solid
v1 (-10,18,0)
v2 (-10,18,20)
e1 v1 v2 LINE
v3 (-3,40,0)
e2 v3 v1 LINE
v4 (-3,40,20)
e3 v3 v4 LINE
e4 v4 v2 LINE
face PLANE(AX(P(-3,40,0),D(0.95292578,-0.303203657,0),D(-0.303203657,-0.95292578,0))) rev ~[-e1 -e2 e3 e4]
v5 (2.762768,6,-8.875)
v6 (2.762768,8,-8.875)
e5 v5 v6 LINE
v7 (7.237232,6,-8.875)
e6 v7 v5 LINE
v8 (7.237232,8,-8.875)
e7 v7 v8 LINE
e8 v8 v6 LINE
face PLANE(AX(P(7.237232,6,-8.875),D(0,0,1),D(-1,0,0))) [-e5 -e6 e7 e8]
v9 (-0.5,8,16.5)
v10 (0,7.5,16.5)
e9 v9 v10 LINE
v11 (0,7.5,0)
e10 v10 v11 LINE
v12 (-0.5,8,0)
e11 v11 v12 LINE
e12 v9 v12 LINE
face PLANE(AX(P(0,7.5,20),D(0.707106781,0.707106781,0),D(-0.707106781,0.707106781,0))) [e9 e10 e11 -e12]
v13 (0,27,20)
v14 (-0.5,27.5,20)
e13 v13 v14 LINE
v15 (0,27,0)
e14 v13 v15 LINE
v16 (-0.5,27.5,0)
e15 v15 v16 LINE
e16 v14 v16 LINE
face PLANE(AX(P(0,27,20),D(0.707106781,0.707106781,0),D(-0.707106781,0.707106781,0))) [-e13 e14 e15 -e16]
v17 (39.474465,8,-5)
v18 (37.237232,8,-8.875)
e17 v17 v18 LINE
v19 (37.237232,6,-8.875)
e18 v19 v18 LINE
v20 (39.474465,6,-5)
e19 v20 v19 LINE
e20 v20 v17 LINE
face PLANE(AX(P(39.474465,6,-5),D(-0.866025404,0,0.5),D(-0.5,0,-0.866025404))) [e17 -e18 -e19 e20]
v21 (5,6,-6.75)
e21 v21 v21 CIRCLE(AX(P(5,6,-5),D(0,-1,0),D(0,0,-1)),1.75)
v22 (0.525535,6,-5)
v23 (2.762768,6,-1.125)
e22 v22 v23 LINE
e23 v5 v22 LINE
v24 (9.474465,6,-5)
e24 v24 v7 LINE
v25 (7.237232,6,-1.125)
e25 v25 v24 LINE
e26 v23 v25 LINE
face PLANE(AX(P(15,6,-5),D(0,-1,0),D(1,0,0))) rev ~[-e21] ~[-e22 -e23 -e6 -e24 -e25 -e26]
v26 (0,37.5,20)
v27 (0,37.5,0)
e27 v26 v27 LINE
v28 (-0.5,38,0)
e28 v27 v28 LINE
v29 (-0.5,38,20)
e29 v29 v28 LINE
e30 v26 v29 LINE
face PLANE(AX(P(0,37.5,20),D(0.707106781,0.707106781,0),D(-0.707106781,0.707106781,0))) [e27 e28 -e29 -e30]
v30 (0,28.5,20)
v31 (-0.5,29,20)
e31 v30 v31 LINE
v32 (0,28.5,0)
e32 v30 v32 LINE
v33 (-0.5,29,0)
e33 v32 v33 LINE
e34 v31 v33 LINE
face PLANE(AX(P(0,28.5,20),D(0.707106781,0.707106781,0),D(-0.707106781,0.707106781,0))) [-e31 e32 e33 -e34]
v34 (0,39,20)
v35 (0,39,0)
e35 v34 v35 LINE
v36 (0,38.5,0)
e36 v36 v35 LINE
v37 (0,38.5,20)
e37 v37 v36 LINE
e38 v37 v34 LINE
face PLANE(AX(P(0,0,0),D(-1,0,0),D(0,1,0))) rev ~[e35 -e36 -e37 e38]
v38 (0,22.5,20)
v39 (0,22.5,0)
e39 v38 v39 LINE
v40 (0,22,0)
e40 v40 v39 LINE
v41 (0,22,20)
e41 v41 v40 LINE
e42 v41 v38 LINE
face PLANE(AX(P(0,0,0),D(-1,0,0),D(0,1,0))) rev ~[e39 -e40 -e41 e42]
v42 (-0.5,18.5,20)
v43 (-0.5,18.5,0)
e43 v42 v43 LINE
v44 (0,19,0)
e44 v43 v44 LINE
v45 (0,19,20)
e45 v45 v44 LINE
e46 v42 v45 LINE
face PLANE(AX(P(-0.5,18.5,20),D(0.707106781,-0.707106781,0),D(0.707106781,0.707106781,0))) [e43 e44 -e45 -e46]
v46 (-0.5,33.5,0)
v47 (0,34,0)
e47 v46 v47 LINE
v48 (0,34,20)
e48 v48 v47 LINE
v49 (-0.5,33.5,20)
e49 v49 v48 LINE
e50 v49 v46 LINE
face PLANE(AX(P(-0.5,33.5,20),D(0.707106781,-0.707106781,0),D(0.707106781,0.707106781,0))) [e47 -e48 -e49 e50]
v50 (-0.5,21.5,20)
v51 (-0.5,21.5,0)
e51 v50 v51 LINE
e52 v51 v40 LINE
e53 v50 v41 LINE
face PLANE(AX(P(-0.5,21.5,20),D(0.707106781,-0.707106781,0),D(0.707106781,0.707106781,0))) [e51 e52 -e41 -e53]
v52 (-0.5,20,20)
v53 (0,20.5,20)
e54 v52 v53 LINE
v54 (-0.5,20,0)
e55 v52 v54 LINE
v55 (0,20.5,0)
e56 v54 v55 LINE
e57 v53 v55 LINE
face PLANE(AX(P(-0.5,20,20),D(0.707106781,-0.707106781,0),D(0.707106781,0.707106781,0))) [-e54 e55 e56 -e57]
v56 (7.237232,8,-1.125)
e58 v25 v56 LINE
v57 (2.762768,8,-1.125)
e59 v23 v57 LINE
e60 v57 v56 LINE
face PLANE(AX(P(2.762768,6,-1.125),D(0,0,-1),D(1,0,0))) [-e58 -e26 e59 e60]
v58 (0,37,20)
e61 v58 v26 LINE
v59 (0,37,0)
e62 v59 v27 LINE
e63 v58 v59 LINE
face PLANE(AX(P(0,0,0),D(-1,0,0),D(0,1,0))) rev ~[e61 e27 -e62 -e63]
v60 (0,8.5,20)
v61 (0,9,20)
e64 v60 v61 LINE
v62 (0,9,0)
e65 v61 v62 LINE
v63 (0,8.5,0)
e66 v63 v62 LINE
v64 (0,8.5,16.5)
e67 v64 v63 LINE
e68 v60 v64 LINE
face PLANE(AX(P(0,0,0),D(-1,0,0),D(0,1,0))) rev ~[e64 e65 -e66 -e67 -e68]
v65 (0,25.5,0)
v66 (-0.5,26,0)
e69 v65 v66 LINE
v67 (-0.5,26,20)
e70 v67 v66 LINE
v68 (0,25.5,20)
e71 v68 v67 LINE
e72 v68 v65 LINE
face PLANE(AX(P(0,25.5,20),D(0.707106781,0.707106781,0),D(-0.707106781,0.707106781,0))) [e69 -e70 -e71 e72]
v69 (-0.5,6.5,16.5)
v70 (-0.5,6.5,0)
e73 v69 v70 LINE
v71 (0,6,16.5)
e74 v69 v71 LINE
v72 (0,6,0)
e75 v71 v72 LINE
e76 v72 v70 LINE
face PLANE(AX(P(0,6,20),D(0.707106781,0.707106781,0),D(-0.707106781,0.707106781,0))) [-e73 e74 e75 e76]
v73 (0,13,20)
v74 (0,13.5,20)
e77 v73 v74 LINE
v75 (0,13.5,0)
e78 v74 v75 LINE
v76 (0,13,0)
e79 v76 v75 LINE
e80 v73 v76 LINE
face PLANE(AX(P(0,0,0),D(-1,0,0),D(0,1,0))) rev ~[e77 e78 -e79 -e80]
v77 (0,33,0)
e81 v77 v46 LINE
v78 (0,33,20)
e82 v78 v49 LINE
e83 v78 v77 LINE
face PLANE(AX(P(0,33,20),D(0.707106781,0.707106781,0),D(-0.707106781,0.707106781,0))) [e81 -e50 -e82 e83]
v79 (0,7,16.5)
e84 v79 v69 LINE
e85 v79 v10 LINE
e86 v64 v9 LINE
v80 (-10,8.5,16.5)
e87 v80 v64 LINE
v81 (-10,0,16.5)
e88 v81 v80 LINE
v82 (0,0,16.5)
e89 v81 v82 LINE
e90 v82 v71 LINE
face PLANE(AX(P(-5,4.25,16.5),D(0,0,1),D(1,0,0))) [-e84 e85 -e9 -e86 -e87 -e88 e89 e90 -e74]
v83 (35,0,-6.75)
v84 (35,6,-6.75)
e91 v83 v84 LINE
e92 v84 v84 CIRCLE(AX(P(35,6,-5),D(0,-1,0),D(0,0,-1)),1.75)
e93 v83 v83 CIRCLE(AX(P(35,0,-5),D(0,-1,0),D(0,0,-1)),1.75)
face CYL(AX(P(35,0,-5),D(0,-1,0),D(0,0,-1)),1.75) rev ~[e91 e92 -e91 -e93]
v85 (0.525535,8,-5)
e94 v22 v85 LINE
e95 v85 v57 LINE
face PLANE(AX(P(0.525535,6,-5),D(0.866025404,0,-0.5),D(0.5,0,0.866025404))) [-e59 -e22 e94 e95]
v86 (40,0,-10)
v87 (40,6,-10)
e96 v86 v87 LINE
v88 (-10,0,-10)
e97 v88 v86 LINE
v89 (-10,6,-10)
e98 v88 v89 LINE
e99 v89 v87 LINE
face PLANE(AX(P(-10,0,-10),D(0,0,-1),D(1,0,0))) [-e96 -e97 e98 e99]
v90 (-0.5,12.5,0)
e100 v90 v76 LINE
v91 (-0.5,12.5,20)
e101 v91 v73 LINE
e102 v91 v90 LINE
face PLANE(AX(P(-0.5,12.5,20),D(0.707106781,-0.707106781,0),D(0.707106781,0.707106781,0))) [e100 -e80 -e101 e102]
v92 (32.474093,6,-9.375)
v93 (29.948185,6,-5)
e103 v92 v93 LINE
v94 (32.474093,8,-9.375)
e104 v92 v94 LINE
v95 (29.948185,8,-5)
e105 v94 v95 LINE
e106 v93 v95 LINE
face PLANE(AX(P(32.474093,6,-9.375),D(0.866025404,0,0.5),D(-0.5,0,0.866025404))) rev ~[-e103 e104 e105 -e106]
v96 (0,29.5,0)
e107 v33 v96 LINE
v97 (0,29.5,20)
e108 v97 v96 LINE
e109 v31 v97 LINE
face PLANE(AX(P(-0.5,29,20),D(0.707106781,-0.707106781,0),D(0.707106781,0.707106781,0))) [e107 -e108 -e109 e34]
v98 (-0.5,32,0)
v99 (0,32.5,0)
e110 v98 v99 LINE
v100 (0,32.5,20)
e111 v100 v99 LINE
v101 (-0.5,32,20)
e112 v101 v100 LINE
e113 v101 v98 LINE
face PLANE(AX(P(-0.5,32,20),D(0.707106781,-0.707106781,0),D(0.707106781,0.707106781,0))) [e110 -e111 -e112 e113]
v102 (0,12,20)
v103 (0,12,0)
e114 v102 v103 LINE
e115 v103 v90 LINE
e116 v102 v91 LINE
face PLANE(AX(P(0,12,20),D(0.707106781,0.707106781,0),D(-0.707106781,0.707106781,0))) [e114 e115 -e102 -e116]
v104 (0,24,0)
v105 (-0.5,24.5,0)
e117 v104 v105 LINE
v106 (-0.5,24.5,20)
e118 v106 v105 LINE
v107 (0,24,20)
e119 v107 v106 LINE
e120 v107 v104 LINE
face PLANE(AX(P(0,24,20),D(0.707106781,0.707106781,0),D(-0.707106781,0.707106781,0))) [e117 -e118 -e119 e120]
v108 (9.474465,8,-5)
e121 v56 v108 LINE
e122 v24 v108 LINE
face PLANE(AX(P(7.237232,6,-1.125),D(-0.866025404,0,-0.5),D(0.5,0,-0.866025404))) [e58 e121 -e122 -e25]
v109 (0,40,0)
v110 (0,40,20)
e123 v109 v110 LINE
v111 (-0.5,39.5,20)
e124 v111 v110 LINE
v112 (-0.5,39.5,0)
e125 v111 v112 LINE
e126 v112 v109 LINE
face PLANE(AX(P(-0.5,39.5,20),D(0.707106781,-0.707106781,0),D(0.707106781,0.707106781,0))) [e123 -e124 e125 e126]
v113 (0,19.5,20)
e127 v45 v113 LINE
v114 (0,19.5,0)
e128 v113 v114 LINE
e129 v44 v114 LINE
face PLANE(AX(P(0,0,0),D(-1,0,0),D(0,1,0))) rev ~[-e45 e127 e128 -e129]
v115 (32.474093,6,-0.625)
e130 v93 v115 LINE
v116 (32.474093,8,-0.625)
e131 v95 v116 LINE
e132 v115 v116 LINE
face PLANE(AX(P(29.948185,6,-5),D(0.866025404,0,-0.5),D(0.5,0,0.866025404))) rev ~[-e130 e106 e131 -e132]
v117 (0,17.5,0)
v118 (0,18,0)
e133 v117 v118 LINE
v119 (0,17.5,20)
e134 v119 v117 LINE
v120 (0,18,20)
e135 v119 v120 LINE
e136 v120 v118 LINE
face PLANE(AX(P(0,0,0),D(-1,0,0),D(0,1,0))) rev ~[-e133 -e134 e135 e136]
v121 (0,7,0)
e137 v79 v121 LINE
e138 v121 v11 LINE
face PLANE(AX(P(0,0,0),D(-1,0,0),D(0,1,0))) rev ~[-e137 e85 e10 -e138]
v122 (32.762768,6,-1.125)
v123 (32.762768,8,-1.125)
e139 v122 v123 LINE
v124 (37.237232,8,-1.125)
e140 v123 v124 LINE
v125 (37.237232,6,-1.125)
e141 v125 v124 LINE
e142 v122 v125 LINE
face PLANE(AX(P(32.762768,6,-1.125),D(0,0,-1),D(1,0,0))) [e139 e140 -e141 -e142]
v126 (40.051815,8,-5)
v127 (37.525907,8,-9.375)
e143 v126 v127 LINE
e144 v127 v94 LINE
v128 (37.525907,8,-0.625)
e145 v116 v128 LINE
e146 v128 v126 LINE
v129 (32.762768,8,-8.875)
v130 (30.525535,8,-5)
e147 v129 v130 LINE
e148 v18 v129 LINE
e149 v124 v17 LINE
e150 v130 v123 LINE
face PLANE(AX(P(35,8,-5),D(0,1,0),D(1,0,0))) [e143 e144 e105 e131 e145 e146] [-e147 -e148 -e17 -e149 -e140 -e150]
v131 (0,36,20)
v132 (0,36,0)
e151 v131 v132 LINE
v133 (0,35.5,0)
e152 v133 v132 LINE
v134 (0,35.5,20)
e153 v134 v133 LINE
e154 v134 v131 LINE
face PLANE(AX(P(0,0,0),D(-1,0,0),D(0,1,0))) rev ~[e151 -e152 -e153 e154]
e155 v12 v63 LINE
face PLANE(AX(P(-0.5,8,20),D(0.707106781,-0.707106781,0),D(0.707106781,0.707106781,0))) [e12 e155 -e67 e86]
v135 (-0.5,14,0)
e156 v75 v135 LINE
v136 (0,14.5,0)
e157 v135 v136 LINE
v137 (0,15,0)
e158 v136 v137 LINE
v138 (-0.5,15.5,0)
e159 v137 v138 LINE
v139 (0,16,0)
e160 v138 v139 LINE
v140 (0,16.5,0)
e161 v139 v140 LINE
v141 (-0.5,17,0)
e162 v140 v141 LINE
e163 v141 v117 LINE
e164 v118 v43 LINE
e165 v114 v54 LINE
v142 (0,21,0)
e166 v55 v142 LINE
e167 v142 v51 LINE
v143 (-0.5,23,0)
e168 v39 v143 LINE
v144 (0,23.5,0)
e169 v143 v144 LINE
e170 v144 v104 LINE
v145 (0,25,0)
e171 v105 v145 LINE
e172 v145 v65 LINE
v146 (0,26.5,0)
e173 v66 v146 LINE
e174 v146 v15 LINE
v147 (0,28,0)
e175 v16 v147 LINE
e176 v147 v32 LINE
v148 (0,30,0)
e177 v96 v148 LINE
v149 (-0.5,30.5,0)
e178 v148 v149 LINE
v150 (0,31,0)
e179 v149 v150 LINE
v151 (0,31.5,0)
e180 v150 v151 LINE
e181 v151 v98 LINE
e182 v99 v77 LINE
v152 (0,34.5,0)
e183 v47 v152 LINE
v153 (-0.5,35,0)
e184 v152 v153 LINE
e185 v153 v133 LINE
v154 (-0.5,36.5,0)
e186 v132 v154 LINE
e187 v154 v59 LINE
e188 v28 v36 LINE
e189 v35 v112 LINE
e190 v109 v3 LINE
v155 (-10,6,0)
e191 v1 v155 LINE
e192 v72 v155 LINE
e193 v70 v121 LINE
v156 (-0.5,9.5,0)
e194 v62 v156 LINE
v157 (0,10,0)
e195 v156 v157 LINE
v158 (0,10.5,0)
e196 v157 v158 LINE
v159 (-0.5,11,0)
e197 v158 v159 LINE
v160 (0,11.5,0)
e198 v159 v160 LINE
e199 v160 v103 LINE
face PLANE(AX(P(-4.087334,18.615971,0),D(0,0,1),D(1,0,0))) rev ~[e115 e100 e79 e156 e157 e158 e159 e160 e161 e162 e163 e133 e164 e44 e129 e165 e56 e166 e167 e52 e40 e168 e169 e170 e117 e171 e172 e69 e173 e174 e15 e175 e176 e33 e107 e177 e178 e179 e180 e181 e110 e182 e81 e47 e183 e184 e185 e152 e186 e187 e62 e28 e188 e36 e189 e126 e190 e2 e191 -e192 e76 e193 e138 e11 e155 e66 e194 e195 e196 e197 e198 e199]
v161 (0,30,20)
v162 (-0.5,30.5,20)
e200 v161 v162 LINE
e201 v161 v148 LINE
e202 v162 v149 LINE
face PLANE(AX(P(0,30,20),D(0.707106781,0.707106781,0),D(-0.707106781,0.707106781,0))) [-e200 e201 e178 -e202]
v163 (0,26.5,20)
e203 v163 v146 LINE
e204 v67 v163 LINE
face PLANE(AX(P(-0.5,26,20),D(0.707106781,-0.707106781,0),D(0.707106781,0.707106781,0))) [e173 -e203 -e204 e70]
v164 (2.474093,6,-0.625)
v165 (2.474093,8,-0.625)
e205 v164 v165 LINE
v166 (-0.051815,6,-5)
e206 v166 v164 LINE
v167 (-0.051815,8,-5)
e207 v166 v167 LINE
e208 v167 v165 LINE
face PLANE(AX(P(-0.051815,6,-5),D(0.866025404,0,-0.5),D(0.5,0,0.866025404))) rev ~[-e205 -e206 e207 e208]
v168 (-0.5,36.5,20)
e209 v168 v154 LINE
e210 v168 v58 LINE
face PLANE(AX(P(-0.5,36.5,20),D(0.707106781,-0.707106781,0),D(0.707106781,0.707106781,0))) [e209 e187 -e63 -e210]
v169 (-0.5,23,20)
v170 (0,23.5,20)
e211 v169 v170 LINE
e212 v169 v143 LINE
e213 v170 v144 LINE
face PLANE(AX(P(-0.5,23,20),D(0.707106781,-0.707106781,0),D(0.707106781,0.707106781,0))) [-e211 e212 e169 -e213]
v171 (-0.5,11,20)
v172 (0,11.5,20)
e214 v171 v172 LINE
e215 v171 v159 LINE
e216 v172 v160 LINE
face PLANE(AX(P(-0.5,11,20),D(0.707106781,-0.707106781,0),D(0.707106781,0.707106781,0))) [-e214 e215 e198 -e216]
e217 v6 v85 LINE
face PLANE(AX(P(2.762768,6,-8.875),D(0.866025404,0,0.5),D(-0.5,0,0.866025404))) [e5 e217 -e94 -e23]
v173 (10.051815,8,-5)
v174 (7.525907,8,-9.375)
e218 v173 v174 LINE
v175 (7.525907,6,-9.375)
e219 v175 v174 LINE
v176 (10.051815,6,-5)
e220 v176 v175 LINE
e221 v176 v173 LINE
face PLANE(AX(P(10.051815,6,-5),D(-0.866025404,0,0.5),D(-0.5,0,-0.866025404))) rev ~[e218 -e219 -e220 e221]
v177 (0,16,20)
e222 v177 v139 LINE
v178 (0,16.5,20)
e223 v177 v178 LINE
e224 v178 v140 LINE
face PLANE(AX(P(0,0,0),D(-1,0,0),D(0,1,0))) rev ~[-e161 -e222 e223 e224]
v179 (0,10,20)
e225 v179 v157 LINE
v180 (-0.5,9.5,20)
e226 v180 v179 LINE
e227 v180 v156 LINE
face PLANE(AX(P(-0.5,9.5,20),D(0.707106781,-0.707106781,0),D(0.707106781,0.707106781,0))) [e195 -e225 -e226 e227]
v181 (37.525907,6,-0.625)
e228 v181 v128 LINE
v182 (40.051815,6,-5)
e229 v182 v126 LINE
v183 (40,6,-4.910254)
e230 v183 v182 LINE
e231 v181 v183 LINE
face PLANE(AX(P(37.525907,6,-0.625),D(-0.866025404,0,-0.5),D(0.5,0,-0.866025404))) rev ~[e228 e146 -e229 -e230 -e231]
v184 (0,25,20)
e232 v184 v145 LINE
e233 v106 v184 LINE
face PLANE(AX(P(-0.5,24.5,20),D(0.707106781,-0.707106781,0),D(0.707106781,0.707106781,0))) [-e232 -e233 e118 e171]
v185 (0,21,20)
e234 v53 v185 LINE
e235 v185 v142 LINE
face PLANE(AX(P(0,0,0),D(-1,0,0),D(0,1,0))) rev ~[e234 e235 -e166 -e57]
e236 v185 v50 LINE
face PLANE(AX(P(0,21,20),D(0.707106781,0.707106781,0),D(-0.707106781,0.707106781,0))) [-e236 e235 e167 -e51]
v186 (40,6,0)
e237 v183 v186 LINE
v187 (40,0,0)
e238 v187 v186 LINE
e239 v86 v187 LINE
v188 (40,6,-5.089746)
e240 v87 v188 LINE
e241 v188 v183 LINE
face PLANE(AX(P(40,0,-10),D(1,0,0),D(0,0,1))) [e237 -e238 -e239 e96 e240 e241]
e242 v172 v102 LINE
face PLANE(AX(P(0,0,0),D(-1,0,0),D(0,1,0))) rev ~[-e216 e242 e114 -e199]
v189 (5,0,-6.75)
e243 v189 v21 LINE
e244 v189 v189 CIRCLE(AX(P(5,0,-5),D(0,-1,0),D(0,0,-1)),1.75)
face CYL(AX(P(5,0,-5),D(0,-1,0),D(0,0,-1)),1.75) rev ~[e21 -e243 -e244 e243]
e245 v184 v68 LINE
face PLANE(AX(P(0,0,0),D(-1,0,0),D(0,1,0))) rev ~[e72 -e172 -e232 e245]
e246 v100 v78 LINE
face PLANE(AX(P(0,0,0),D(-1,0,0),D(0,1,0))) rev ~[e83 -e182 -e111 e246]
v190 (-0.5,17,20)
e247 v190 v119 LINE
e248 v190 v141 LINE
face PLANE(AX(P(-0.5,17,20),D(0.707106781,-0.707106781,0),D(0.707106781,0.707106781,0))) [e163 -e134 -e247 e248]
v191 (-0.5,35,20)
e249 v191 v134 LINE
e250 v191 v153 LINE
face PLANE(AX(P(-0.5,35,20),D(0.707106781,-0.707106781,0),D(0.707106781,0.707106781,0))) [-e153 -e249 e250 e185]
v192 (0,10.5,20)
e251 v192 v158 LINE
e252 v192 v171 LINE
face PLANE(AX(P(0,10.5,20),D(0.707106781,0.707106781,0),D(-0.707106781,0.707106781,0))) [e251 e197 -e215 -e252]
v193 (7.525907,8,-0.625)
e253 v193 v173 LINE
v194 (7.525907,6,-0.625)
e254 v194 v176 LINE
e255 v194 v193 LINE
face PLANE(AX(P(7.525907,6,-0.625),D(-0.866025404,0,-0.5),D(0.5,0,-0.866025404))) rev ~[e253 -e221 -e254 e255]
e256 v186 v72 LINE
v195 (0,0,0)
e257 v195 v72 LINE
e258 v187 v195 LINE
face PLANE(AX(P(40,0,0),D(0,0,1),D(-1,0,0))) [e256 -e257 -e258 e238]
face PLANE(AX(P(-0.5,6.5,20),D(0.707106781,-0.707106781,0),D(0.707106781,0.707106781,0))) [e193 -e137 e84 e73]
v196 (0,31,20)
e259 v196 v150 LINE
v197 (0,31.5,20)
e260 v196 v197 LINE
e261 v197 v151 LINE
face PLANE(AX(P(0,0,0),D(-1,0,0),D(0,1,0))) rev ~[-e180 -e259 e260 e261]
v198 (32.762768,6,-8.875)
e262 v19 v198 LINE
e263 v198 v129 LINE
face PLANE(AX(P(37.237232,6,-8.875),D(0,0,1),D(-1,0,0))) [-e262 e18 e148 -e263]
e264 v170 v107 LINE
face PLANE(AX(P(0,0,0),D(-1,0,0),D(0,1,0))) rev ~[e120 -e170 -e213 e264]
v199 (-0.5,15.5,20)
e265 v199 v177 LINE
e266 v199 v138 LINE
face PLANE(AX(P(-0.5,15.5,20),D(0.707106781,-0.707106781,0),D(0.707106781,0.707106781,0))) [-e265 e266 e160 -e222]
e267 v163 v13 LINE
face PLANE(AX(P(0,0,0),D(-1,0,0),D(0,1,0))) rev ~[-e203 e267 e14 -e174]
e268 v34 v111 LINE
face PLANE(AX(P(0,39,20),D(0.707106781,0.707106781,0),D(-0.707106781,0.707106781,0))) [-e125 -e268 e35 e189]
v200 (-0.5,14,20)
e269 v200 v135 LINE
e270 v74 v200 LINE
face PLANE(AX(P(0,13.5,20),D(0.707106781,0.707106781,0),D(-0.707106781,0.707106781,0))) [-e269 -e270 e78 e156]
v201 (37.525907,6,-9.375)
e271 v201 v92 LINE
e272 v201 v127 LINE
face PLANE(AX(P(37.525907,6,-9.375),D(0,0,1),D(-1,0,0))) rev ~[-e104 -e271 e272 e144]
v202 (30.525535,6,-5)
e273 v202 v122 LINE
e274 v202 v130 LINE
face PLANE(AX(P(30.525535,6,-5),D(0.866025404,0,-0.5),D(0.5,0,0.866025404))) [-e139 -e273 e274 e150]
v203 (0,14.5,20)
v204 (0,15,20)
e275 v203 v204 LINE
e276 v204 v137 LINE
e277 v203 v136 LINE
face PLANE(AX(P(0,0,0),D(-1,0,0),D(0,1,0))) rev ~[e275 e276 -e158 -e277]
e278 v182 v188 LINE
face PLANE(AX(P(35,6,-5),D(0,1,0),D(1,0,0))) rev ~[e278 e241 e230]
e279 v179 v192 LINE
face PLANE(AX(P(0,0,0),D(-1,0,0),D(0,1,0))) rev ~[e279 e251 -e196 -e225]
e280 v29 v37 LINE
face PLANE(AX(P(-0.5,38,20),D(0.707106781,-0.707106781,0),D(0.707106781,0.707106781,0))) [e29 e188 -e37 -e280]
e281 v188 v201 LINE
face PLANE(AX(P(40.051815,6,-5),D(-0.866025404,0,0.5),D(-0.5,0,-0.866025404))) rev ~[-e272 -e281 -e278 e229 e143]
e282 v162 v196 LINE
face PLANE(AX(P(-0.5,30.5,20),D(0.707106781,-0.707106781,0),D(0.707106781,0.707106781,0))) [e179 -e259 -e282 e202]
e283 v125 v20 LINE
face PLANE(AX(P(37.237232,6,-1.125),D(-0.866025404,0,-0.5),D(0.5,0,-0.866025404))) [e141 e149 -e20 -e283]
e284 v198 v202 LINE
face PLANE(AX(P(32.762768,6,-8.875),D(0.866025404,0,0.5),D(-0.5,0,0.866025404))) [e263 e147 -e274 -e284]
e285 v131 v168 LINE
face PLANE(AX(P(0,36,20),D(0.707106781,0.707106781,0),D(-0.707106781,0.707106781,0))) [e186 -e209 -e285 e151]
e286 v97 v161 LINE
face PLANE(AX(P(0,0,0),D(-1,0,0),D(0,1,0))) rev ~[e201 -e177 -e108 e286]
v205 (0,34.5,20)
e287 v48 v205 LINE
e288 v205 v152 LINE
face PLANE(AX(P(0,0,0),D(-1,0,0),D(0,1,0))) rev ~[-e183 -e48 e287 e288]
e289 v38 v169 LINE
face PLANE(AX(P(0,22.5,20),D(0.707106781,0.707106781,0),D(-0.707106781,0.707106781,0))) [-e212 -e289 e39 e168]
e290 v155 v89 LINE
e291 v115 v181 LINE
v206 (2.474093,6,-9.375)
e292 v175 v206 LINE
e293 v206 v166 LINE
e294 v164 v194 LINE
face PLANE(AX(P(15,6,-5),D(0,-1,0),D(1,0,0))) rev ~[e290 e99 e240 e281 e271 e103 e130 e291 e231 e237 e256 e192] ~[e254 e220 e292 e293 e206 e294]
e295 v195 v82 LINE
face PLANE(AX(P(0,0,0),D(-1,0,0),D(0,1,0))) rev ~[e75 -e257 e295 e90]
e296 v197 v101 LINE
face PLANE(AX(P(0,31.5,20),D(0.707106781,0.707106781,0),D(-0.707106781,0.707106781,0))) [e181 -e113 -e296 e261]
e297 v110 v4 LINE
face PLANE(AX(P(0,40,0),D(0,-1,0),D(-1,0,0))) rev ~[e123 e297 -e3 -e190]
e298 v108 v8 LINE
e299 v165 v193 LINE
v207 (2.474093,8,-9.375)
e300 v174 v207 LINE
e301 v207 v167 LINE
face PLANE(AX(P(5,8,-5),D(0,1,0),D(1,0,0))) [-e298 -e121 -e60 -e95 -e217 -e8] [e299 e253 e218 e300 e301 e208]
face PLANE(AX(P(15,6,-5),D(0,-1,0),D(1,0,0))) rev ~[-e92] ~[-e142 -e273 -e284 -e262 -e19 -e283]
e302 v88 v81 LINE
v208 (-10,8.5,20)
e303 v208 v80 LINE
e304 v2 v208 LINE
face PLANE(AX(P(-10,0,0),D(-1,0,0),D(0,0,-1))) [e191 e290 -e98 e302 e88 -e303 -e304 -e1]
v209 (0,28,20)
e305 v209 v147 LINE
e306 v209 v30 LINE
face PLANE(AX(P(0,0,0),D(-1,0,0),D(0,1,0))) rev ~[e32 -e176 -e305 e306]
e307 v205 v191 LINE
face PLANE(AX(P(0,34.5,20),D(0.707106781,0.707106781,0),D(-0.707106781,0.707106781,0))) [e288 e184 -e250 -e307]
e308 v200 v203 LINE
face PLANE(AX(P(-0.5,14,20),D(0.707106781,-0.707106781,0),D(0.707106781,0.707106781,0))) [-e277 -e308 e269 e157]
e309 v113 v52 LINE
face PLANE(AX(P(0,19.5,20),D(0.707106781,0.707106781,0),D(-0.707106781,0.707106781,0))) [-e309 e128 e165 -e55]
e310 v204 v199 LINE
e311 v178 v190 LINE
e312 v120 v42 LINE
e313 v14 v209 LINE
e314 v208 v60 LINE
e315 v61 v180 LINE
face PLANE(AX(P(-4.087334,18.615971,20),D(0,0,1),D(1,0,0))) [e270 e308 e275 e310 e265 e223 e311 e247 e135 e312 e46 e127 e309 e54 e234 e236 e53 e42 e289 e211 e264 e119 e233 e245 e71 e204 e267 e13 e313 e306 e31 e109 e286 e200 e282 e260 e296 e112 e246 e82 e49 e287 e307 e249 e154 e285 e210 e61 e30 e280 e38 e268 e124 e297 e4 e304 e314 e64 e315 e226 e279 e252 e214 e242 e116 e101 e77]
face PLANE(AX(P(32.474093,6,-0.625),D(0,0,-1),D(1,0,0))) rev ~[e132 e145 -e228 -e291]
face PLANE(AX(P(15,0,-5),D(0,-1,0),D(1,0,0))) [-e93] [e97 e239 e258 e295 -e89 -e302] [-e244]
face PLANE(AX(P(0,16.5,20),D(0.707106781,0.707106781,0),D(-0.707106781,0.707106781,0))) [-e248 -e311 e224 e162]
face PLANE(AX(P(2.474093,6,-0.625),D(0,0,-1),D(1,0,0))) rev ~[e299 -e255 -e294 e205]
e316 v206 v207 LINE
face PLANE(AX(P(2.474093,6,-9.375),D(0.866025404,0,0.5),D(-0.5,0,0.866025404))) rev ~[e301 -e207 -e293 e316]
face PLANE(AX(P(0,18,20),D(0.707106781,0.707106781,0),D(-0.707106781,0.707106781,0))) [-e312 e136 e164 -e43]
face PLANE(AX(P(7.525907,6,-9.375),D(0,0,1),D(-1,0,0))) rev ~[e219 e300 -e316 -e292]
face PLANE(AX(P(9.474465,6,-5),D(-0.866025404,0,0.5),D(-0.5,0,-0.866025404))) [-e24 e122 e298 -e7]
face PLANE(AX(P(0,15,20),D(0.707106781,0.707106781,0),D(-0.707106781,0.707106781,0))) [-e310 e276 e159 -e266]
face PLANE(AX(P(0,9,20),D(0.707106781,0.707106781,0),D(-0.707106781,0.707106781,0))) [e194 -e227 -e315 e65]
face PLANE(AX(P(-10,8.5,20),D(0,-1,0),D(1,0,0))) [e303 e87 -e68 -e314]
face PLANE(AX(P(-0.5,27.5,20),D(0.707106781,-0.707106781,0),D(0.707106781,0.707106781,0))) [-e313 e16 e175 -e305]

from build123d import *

# Parameters (mm, degrees)
BOSS_EXTRUDE1_DEPTH = 20
SKETCH2_R           = 1.75
BOSS_EXTRUDE2_DEPTH = 6
CUT_EXTRUDE1_DEPTH  = 20
BOSS_EXTRUDE3_DEPTH = 2
SKETCH5_W           = 10
SKETCH5_H           = 8.5
CUT_EXTRUDE2_DEPTH  = 3.5


with BuildPart() as part:
    # Sketch1 → Boss-Extrude1 (new body)
    with BuildSketch(Plane.XY):
        Polygon((0, 0), (0, 40), (-3, 40), (-10, 18), (-10, 0), align=None)
    extrude(amount=BOSS_EXTRUDE1_DEPTH)

    # Sketch2 → Boss-Extrude2 (add)
    with BuildSketch(Plane.XZ):
        Polygon((-10, 0), (-10, -10), (40, -10), (40, 0), (0, 0), align=None)
        with Locations(Location((35, -5, 0), (0, 0, 270))):
            Circle(SKETCH2_R, mode=Mode.SUBTRACT)
        with Locations(Location((5, -5, 0), (0, 0, 270))):
            Circle(SKETCH2_R, mode=Mode.SUBTRACT)
    extrude(amount=-BOSS_EXTRUDE2_DEPTH)

    # Sketch3 → Cut-Extrude1 (cut)
    with BuildSketch(Plane.XY.offset(20)):
        Polygon((0, 6), (-0.5, 6.5), (0, 7), align=None)
        Polygon((0, 7.5), (-0.5, 8), (0, 8.5), align=None)
        Polygon((0, 9), (-0.5, 9.5), (0, 10), align=None)
        Polygon((0, 10.5), (-0.5, 11), (0, 11.5), align=None)
        Polygon((0, 12), (-0.5, 12.5), (0, 13), align=None)
        Polygon((0, 13.5), (-0.5, 14), (0, 14.5), align=None)
        Polygon((0, 15), (-0.5, 15.5), (0, 16), align=None)
        Polygon((0, 16.5), (-0.5, 17), (0, 17.5), align=None)
        Polygon((0, 18), (-0.5, 18.5), (0, 19), align=None)
        Polygon((0, 19.5), (-0.5, 20), (0, 20.5), align=None)
        Polygon((0, 21), (-0.5, 21.5), (0, 22), align=None)
        Polygon((0, 22.5), (-0.5, 23), (0, 23.5), align=None)
        Polygon((0, 24), (-0.5, 24.5), (0, 25), align=None)
        Polygon((0, 25.5), (-0.5, 26), (0, 26.5), align=None)
        Polygon((0, 27), (-0.5, 27.5), (0, 28), align=None)
        Polygon((0, 28.5), (-0.5, 29), (0, 29.5), align=None)
        Polygon((0, 30), (-0.5, 30.5), (0, 31), align=None)
        Polygon((0, 31.5), (-0.5, 32), (0, 32.5), align=None)
        Polygon((0, 33), (-0.5, 33.5), (0, 34), align=None)
        Polygon((0, 34.5), (-0.5, 35), (0, 35.5), align=None)
        Polygon((0, 36), (-0.5, 36.5), (0, 37), align=None)
        Polygon((0, 37.5), (-0.5, 38), (0, 38.5), align=None)
        Polygon((0, 39), (-0.5, 39.5), (0, 40), align=None)
        Polygon((0, 40.5), (-0.5, 41), (0, 41.5), align=None)
    extrude(amount=-CUT_EXTRUDE1_DEPTH, mode=Mode.SUBTRACT)

    # Sketch4 → Boss-Extrude3 (add)
    # profile 1 of 2: a face of its own
    with BuildSketch(Plane(origin=(0, 6, 0), x_dir=(1, 0, 0), z_dir=(0, 1, 0))):
        Polygon((10.051814855, 5), (7.525907428, 9.375), (2.474092572, 9.375), (-0.051814855, 5), (2.474092572, 0.625), (7.525907428, 0.625), align=None)
        Polygon((9.474464586, 5), (7.237232293, 8.875), (2.762767707, 8.875), (0.525535414, 5), (2.762767707, 1.125), (7.237232293, 1.125), align=None, mode=Mode.SUBTRACT)
    # profile 2 of 2: a face of its own
    with BuildSketch(Plane(origin=(0, 6, 0), x_dir=(1, 0, 0), z_dir=(0, 1, 0))):
        Polygon((40.051814855, 5), (37.525907428, 9.375), (32.474092572, 9.375), (29.948185145, 5), (32.474092572, 0.625), (37.525907428, 0.625), align=None)
        Polygon((39.474464586, 5), (37.237232293, 8.875), (32.762767707, 8.875), (30.525535414, 5), (32.762767707, 1.125), (37.237232293, 1.125), align=None, mode=Mode.SUBTRACT)
    extrude(amount=BOSS_EXTRUDE3_DEPTH)

    # Sketch5 → Cut-Extrude2 (cut)
    with BuildSketch(Plane.XY.offset(20)):
        with Locations((-5, 4.25)):
            Rectangle(SKETCH5_W, SKETCH5_H)
    extrude(amount=-CUT_EXTRUDE2_DEPTH, mode=Mode.SUBTRACT)


solid = part.part
